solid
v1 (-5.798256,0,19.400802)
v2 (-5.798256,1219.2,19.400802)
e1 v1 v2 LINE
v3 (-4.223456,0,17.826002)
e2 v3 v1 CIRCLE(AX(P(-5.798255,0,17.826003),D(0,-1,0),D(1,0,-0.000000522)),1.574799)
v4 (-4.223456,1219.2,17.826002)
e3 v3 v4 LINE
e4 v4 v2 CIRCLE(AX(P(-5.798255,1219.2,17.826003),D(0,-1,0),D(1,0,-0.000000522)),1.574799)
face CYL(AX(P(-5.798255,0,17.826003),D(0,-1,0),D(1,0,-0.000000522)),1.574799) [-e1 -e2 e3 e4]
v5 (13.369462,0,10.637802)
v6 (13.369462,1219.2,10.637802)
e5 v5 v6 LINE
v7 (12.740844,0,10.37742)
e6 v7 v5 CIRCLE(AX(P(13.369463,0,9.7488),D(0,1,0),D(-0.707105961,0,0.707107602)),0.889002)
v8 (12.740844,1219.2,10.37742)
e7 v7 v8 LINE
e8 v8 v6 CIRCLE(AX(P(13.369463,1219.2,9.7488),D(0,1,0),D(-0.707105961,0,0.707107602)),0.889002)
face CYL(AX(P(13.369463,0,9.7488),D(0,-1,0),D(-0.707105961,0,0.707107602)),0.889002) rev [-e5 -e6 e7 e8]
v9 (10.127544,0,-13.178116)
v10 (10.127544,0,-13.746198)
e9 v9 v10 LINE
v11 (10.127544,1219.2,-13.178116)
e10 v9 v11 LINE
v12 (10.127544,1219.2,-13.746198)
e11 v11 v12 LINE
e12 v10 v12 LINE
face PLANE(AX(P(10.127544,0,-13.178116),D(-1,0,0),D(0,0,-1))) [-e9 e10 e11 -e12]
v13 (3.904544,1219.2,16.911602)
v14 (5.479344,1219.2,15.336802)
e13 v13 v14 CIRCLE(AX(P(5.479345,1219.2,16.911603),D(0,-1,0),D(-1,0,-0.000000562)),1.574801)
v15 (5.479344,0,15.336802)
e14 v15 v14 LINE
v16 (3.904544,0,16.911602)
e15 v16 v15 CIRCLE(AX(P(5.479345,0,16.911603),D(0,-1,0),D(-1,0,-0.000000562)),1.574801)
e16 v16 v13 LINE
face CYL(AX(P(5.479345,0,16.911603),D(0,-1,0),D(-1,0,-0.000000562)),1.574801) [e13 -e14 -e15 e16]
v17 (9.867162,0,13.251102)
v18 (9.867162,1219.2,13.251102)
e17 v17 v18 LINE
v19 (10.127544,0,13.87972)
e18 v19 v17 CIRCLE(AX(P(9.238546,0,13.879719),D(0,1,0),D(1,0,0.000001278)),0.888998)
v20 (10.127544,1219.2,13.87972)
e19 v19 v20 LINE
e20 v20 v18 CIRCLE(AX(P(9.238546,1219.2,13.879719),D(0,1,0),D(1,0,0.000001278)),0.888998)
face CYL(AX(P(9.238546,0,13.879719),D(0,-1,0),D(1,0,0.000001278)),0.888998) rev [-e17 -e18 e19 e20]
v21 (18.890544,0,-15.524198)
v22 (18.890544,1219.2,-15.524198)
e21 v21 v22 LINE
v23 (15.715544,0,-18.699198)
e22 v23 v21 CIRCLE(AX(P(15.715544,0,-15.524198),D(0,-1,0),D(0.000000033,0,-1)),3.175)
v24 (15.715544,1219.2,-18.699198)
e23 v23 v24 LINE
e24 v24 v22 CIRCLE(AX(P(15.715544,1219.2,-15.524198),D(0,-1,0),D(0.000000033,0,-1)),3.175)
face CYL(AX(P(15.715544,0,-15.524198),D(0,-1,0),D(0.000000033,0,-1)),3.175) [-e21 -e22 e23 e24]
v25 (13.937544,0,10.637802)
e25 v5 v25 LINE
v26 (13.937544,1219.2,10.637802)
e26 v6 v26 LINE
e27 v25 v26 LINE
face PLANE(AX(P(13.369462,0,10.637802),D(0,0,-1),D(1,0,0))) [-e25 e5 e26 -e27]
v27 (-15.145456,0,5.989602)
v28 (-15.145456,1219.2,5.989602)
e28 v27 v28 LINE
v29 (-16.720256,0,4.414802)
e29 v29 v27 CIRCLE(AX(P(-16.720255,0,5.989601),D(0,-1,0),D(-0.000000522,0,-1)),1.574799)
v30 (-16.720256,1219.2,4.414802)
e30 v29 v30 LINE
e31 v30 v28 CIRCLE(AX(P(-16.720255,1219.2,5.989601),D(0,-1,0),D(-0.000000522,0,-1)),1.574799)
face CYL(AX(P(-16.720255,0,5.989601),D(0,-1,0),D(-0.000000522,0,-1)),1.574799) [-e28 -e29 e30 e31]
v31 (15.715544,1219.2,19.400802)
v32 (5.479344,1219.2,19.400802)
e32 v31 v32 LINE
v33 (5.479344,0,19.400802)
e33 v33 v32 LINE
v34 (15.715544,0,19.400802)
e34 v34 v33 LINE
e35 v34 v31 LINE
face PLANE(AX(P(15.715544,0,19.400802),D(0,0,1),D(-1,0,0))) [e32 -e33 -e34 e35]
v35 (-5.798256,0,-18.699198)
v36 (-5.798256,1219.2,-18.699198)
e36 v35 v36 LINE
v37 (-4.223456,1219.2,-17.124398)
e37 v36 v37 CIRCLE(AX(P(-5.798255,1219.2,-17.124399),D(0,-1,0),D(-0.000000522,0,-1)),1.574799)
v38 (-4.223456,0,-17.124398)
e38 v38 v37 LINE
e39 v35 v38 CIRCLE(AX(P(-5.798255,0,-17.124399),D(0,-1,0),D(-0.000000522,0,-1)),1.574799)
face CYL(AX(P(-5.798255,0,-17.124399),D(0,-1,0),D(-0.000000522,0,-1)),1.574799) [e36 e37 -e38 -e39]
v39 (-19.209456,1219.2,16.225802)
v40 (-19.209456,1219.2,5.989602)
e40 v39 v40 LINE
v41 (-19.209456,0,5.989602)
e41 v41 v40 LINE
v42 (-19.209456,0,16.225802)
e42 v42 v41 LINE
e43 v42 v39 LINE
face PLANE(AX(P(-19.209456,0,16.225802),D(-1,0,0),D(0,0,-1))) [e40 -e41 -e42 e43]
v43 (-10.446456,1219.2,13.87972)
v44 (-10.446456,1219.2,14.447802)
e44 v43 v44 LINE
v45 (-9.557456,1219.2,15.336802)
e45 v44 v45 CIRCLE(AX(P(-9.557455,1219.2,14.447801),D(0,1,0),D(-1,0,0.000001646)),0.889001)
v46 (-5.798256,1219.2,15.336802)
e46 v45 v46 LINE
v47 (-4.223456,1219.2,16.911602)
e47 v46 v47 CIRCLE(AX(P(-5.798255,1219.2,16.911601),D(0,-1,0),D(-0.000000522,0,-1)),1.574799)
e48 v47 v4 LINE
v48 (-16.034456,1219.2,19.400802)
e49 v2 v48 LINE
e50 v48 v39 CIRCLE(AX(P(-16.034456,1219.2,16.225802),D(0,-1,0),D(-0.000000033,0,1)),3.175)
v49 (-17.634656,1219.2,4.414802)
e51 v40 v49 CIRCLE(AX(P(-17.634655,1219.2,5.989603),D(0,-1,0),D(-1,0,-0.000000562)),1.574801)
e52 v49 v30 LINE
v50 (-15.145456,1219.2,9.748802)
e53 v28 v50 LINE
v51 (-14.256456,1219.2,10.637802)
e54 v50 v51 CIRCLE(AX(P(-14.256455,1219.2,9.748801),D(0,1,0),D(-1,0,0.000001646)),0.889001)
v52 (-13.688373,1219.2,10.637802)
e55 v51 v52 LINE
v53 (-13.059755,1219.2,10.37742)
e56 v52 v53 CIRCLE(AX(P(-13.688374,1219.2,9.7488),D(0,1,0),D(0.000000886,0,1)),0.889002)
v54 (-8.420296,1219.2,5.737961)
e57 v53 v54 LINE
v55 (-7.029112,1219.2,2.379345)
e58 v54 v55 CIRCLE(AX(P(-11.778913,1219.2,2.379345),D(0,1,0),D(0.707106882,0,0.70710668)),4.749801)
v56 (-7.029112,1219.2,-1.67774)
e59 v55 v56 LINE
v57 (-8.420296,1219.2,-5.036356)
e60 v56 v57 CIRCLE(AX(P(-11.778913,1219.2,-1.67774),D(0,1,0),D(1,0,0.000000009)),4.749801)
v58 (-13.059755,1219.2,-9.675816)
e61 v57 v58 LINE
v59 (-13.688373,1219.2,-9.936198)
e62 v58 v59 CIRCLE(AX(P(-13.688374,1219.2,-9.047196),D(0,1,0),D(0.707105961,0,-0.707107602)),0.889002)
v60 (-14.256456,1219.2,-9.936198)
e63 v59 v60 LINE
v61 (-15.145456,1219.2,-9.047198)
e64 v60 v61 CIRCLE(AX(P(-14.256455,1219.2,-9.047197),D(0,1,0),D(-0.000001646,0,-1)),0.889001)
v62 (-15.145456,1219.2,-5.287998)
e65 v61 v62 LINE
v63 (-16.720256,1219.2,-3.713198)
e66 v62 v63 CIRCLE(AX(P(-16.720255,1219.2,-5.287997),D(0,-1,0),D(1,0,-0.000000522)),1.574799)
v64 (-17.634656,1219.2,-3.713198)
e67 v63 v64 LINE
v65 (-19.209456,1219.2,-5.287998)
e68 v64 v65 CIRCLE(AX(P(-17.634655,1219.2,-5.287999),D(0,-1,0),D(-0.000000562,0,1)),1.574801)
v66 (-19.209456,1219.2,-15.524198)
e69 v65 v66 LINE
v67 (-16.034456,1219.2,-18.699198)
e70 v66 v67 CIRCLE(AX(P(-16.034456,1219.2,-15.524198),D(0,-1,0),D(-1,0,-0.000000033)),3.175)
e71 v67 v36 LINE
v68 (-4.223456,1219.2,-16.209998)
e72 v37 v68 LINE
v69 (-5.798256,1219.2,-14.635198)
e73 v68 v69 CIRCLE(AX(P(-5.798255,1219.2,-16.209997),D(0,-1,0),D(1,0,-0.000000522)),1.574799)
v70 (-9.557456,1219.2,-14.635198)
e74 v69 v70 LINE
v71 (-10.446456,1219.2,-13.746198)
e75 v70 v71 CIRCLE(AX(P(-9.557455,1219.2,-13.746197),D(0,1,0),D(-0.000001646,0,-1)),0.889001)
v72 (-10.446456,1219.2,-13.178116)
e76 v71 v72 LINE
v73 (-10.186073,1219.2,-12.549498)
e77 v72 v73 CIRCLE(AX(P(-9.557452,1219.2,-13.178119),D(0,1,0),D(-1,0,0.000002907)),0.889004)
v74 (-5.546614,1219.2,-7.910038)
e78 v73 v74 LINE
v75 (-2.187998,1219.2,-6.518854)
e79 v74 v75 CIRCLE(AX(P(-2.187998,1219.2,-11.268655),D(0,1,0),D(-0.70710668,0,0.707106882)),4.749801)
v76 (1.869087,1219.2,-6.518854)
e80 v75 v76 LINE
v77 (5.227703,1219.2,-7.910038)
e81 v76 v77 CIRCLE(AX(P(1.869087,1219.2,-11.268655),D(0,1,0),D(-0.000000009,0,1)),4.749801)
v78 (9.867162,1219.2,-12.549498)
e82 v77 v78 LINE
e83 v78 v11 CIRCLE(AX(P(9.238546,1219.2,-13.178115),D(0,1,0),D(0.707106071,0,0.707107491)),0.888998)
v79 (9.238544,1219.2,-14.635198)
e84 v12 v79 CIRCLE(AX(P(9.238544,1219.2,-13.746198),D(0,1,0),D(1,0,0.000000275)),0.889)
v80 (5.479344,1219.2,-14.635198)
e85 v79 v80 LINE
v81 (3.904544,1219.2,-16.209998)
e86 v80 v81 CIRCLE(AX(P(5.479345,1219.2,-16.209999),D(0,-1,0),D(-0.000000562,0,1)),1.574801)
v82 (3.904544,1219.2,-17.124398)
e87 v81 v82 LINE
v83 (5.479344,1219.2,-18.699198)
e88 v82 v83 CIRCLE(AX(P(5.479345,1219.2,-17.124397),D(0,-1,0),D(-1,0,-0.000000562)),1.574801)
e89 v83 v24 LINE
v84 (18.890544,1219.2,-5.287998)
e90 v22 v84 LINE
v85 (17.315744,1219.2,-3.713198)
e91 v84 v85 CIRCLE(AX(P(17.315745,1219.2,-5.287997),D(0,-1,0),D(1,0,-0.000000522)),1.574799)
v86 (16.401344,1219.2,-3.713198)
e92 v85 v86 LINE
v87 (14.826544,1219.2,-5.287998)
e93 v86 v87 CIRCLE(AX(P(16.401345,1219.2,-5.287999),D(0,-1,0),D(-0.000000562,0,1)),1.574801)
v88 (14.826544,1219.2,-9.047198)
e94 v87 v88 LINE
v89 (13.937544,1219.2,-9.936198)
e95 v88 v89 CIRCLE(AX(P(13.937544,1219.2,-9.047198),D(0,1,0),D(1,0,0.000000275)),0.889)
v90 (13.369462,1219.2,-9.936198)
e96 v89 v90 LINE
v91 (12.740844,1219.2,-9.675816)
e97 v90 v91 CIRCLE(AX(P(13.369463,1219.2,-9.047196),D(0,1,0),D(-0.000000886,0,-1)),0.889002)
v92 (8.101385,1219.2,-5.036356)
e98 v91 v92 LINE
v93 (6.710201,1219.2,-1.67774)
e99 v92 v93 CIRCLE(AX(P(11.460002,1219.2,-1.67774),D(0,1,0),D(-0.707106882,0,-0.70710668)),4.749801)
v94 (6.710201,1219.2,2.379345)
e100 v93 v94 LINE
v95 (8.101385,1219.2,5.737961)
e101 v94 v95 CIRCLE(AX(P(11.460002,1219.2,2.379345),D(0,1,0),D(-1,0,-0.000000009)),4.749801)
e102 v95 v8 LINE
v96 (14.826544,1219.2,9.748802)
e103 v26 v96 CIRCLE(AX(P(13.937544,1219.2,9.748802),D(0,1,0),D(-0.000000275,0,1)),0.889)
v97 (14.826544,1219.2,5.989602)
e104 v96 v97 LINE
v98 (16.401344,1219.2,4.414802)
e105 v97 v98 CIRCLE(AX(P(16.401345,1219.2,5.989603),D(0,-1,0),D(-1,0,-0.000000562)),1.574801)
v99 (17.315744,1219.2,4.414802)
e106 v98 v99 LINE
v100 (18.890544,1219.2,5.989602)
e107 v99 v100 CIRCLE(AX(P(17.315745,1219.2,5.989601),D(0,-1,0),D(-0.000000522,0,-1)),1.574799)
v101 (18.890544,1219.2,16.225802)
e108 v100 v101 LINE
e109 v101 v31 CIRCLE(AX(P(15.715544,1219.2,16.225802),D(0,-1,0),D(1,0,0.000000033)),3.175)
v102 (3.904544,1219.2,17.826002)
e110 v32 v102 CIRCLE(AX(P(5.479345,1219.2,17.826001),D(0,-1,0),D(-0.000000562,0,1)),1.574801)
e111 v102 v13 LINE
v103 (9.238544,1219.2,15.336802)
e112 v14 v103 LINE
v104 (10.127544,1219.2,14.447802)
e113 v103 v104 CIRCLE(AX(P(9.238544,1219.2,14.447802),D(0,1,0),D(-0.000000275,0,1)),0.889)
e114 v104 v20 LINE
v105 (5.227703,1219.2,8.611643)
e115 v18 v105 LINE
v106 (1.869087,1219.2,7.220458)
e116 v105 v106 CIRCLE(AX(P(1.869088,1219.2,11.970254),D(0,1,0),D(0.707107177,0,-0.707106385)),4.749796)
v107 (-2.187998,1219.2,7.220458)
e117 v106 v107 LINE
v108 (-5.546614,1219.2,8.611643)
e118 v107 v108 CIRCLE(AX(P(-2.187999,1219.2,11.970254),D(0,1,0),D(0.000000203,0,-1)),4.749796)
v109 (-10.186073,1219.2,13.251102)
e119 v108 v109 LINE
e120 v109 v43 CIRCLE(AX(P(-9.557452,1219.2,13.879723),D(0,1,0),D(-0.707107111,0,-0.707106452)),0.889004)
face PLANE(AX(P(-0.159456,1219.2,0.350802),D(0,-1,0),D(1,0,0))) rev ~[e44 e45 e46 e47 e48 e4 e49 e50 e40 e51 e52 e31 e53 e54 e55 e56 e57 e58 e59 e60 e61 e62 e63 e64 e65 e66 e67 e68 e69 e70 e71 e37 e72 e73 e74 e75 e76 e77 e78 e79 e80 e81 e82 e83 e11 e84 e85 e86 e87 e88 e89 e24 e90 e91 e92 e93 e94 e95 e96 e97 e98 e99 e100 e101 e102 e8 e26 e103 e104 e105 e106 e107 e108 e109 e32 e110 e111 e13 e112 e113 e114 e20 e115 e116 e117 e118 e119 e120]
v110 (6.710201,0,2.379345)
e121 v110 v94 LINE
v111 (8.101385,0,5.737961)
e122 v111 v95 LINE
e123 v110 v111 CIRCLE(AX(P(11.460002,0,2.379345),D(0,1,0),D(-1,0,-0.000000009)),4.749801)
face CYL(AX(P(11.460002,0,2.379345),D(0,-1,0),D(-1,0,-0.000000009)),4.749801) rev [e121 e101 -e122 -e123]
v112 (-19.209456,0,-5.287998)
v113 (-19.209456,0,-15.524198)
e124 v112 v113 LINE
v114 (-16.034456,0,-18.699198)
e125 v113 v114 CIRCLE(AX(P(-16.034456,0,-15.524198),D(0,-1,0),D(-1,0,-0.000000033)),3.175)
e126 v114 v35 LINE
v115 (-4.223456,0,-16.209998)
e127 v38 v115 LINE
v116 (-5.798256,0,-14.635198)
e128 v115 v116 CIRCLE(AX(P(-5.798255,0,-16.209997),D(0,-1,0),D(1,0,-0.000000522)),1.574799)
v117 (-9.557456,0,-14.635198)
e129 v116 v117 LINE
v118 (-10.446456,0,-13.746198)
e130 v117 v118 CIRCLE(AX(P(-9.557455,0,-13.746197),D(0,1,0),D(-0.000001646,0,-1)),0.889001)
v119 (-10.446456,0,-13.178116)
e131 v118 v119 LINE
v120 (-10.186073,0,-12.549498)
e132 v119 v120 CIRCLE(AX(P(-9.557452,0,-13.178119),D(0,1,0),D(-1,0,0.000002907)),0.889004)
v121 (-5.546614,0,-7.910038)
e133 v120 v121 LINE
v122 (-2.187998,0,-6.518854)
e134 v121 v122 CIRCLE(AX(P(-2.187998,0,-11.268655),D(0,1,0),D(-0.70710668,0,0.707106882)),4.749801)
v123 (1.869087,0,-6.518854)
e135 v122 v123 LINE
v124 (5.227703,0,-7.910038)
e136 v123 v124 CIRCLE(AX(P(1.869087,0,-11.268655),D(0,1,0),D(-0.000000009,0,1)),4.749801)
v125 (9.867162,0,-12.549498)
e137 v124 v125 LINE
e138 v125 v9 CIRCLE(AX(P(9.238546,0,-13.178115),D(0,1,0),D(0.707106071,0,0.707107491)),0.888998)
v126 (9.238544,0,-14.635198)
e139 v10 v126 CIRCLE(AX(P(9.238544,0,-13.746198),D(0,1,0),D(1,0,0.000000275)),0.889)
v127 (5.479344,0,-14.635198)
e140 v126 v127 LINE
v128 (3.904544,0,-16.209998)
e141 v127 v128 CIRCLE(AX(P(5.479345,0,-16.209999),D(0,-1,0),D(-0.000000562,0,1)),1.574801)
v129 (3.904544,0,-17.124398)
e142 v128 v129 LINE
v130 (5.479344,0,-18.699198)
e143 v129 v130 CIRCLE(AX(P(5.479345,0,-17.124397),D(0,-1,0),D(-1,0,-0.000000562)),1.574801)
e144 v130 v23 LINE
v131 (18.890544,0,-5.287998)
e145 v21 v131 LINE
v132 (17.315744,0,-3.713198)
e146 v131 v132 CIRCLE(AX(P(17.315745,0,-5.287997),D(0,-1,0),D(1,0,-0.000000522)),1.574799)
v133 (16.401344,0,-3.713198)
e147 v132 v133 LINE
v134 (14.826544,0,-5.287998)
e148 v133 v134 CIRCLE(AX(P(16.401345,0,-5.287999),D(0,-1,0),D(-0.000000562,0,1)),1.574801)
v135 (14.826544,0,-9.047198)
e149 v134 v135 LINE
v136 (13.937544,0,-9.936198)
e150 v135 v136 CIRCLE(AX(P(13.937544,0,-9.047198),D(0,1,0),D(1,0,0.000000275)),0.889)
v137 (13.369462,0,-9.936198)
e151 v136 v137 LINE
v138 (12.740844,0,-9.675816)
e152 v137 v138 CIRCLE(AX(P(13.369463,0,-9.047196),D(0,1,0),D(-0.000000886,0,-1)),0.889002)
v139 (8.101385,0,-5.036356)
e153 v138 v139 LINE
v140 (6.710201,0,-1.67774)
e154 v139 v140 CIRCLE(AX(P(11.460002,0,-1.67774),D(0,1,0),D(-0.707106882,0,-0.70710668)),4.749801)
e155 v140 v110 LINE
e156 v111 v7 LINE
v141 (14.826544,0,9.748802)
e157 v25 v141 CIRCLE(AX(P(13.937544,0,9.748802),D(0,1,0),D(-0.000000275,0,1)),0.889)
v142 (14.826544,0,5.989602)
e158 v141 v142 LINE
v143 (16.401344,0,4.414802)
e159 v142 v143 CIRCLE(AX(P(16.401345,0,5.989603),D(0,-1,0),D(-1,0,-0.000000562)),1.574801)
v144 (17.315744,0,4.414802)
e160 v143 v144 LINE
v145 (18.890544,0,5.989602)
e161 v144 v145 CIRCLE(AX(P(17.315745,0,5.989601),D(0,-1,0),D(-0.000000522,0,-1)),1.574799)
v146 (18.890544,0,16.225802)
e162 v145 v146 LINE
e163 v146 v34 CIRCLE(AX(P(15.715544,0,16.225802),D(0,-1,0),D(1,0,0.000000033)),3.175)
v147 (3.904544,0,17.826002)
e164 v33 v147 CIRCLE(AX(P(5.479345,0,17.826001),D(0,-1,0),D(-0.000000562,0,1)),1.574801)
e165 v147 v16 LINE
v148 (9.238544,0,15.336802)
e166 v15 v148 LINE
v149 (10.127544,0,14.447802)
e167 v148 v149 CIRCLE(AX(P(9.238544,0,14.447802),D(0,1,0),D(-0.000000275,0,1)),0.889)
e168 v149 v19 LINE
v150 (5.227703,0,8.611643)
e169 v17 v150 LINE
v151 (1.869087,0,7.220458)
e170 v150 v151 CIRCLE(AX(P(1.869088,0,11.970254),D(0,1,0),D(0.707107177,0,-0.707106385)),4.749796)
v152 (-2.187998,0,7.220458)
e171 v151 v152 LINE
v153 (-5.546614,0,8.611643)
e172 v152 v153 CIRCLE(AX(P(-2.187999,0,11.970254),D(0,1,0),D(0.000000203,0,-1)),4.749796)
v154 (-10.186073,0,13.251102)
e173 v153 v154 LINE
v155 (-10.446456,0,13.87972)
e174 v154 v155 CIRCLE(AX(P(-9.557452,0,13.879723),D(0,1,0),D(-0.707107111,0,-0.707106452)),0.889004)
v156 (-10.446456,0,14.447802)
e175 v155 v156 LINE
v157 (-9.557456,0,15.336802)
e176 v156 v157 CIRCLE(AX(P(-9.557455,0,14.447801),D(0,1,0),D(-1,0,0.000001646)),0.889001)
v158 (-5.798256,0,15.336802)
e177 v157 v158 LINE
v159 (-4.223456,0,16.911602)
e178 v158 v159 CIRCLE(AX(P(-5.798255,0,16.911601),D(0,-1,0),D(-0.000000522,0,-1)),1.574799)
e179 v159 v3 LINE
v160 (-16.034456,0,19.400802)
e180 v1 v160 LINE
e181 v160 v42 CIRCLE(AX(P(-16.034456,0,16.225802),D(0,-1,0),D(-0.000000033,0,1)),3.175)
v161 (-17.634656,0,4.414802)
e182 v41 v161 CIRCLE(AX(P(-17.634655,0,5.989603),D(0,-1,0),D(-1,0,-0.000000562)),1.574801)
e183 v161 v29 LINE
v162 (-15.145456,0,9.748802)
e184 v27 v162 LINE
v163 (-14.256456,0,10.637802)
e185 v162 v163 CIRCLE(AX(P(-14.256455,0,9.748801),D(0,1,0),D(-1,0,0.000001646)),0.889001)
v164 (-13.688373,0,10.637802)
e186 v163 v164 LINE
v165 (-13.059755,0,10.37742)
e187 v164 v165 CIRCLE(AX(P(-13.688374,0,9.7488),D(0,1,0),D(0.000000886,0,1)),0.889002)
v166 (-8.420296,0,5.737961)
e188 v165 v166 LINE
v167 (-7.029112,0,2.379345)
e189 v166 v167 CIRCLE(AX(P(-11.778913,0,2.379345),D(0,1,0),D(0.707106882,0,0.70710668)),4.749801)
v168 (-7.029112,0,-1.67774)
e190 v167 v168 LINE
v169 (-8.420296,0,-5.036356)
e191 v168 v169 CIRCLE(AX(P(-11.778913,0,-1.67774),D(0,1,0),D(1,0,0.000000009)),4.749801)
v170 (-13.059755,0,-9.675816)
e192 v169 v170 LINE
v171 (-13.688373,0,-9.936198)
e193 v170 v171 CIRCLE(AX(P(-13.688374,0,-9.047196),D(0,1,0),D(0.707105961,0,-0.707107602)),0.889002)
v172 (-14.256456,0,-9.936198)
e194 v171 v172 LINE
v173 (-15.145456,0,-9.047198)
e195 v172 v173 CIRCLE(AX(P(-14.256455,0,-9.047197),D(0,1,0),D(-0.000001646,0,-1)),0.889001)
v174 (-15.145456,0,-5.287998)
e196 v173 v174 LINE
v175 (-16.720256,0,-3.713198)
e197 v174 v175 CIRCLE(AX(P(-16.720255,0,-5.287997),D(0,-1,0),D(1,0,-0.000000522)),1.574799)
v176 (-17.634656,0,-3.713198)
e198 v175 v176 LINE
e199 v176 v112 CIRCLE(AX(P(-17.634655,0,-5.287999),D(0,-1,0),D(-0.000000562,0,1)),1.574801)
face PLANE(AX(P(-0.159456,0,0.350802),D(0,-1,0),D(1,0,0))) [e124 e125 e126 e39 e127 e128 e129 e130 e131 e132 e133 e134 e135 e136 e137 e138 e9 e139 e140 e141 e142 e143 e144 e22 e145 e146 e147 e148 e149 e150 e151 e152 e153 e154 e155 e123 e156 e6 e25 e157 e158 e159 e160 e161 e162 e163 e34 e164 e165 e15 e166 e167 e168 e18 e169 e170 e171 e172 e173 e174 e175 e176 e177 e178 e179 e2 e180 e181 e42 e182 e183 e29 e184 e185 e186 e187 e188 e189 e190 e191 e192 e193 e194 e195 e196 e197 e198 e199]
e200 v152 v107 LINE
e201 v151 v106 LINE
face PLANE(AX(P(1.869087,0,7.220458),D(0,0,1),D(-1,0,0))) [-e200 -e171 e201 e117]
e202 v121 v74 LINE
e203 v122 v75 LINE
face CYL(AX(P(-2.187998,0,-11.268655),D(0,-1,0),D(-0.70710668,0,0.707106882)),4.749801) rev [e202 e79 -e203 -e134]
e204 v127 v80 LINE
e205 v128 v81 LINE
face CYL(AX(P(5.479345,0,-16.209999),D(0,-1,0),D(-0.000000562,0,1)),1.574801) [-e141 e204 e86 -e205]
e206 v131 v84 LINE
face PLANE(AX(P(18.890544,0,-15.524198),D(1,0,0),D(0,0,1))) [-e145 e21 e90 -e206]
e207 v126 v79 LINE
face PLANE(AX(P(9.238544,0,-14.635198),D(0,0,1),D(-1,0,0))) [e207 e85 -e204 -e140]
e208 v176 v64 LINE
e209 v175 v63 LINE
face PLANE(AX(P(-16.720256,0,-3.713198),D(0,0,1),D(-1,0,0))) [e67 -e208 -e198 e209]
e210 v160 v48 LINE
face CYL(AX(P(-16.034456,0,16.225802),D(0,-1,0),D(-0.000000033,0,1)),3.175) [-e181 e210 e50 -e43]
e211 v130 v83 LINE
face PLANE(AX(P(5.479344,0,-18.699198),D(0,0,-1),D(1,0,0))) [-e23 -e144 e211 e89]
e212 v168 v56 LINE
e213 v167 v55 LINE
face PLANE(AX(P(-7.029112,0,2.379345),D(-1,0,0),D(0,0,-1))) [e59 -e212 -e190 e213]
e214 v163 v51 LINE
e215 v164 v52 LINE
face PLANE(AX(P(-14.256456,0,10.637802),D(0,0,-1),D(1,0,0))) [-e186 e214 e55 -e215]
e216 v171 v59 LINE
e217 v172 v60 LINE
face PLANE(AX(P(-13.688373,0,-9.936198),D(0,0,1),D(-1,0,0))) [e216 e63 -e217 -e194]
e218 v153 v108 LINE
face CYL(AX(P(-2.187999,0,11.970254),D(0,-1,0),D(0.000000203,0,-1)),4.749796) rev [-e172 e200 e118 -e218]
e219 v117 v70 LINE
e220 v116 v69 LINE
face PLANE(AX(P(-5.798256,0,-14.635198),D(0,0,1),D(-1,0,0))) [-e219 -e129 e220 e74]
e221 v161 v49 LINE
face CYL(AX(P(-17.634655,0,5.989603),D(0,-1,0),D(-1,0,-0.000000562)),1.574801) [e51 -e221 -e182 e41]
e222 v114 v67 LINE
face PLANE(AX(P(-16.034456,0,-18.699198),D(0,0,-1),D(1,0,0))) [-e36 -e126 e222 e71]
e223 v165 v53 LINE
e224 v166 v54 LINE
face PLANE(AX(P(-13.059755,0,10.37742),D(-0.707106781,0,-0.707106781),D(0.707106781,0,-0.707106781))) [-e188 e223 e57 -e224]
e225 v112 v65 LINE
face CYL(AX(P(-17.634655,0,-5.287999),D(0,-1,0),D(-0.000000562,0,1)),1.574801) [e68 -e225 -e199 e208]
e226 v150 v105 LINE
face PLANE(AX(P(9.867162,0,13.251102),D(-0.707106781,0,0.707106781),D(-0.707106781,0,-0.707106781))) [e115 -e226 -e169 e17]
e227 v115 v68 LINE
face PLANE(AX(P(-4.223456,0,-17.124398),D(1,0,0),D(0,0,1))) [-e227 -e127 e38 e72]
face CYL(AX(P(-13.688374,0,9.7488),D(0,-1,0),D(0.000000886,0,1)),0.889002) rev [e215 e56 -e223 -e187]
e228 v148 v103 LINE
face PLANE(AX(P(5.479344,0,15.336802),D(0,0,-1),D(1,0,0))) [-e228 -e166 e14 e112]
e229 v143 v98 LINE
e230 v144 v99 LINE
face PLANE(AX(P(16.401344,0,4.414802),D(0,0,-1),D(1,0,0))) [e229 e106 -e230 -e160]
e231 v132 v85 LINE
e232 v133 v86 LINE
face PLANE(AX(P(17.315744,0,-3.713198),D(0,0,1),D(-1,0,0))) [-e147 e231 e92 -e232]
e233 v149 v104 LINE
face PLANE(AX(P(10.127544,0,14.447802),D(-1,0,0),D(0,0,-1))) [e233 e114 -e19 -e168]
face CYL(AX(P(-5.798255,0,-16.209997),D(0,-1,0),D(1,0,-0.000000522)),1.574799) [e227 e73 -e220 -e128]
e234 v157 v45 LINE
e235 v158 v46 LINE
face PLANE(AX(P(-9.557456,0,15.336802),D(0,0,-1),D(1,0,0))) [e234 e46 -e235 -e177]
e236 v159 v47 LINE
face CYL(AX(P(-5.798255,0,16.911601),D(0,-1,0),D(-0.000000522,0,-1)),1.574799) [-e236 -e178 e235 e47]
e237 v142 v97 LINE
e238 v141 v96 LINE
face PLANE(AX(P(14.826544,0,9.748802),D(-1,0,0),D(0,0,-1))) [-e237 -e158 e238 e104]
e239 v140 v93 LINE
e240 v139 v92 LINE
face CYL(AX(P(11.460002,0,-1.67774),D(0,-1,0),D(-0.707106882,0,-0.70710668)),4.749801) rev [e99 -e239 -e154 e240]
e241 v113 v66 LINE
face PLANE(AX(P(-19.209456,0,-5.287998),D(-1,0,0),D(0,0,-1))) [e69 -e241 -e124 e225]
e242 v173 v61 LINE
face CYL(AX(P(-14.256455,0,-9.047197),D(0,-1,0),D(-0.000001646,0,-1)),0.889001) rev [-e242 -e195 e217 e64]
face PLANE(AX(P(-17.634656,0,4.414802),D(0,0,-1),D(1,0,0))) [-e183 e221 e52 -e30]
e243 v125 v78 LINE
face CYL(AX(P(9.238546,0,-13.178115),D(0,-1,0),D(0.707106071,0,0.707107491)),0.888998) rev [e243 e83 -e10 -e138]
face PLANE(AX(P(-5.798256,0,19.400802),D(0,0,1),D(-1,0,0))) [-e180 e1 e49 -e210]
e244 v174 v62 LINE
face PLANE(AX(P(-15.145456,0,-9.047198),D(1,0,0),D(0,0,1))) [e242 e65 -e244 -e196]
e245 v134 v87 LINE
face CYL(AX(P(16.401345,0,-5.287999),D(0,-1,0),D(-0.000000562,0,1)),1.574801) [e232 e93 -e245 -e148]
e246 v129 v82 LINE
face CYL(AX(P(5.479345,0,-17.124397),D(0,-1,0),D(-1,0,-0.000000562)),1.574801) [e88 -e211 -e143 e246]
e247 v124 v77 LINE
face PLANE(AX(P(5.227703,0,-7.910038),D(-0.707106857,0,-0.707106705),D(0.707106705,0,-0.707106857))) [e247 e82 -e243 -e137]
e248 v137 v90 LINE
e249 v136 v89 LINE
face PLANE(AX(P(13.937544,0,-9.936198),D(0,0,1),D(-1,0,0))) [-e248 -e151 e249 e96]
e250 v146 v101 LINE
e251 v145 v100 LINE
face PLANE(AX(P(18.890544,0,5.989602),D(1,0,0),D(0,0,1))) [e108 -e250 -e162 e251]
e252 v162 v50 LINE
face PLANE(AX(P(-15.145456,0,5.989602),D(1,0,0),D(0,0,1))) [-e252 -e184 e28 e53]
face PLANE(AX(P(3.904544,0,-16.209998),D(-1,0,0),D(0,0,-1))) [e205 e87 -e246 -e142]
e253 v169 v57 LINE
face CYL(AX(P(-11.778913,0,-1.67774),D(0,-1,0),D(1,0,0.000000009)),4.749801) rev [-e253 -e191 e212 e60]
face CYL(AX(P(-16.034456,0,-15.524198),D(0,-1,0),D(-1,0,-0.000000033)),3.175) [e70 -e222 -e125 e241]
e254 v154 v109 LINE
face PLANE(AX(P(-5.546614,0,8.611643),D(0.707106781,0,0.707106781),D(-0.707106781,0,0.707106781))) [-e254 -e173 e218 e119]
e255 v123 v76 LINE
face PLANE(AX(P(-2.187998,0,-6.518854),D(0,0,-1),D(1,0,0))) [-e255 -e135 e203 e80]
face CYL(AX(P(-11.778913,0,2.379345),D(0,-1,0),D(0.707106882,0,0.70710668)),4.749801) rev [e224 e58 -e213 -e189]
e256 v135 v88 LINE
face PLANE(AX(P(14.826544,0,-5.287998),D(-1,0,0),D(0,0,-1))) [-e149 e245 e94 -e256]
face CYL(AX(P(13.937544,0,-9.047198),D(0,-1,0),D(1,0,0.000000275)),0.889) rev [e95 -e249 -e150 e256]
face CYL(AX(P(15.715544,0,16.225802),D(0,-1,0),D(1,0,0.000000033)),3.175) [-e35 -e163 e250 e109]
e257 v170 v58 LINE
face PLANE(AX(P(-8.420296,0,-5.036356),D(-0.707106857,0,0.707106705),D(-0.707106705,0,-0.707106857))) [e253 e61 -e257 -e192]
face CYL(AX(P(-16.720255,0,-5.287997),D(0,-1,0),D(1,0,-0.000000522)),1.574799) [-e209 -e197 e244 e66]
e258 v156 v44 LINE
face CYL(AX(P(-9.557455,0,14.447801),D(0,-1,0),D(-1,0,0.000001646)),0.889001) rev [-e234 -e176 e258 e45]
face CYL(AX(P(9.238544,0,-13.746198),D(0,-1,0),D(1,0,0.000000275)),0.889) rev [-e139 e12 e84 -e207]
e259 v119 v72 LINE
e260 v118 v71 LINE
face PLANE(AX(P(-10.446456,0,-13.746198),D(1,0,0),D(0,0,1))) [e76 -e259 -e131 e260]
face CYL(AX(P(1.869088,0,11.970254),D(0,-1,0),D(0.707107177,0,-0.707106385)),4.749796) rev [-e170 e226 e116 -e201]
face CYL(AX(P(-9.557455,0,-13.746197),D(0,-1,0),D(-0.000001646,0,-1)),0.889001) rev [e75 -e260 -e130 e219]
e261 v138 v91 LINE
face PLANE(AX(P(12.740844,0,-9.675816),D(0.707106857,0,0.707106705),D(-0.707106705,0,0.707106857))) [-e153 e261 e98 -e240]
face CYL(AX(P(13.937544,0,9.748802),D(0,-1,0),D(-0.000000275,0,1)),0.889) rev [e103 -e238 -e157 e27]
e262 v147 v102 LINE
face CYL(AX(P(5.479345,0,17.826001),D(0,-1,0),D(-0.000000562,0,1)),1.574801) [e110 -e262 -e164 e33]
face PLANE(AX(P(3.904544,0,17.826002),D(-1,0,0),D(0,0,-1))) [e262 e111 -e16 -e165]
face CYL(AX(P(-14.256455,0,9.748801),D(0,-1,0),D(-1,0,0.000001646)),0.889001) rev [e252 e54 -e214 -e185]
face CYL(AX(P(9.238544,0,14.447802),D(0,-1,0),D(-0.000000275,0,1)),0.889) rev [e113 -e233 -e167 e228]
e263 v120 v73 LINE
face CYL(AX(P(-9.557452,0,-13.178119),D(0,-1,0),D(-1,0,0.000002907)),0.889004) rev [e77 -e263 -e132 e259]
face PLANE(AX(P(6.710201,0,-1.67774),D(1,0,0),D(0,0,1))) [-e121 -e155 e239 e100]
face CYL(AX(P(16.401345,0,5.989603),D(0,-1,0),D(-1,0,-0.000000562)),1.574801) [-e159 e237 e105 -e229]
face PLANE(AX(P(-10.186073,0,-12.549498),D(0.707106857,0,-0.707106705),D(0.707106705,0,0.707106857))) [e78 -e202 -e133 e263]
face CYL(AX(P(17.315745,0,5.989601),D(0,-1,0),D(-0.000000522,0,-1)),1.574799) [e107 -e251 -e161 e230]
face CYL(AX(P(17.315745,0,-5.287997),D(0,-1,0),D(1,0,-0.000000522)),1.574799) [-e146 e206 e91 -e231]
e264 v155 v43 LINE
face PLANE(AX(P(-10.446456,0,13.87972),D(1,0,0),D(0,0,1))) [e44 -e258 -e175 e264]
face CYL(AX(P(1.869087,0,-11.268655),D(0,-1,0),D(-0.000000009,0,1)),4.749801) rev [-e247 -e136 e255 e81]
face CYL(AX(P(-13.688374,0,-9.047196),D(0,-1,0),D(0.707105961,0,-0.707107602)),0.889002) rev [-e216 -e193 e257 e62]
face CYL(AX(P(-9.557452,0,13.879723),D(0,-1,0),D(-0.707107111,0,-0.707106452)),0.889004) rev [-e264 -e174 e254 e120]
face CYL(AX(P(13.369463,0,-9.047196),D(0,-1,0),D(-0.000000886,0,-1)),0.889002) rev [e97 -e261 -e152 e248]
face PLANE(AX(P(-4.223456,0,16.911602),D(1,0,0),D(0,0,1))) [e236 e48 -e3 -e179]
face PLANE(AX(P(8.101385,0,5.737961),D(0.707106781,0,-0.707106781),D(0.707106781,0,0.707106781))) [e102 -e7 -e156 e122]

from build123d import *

# Parameters (mm, degrees)
F1_DEPTH = 1219.2


with BuildPart() as f1:
    # F0 (on Front) → F1 (new body)
    with BuildSketch(Plane.XZ):
        with BuildLine():
            Line((-5.798256, 19.400802), (-16.034456, 19.400802))
            ThreePointArc((-16.034456, 19.400802), (-18.27952, 18.470866), (-19.209456, 16.225802))
            Line((-19.209456, 16.225802), (-19.209456, 5.989602))
            ThreePointArc((-19.209456, 5.989602), (-18.748207, 4.87605), (-17.634656, 4.414802))
            Line((-17.634656, 4.414802), (-16.720256, 4.414802))
            ThreePointArc((-16.720256, 4.414802), (-15.606704, 4.87605), (-15.145456, 5.989602))
            Line((-15.145456, 5.989602), (-15.145456, 9.748802))
            ThreePointArc((-15.145456, 9.748802), (-14.885073, 10.37742), (-14.256456, 10.637802))
            Line((-14.256456, 10.637802), (-13.688373, 10.637802))
            ThreePointArc((-13.688373, 10.637802), (-13.348168, 10.570131), (-13.059755, 10.37742))
            Line((-13.059755, 10.37742), (-8.420296, 5.737961))
            ThreePointArc((-8.420296, 5.737961), (-7.390669, 4.197015), (-7.029112, 2.379345))
            Line((-7.029112, 2.379345), (-7.029112, -1.67774))
            ThreePointArc((-7.029112, -1.67774), (-7.390669, -3.49541), (-8.420296, -5.036356))
            Line((-8.420296, -5.036356), (-13.059755, -9.675816))
            ThreePointArc((-13.059755, -9.675816), (-13.348168, -9.868527), (-13.688373, -9.936198))
            Line((-13.688373, -9.936198), (-14.256456, -9.936198))
            ThreePointArc((-14.256456, -9.936198), (-14.885073, -9.675816), (-15.145456, -9.047198))
            Line((-15.145456, -9.047198), (-15.145456, -5.287998))
            ThreePointArc((-15.145456, -5.287998), (-15.606704, -4.174446), (-16.720256, -3.713198))
            Line((-16.720256, -3.713198), (-17.634656, -3.713198))
            ThreePointArc((-17.634656, -3.713198), (-18.748207, -4.174446), (-19.209456, -5.287998))
            Line((-19.209456, -5.287998), (-19.209456, -15.524198))
            ThreePointArc((-19.209456, -15.524198), (-18.27952, -17.769262), (-16.034456, -18.699198))
            Line((-16.034456, -18.699198), (-5.798256, -18.699198))
            ThreePointArc((-5.798256, -18.699198), (-4.684704, -18.23795), (-4.223456, -17.124398))
            Line((-4.223456, -17.124398), (-4.223456, -16.209998))
            ThreePointArc((-4.223456, -16.209998), (-4.684704, -15.096446), (-5.798256, -14.635198))
            Line((-5.798256, -14.635198), (-9.557456, -14.635198))
            ThreePointArc((-9.557456, -14.635198), (-10.186073, -14.374816), (-10.446456, -13.746198))
            Line((-10.446456, -13.746198), (-10.446456, -13.178116))
            ThreePointArc((-10.446456, -13.178116), (-10.378784, -12.83791), (-10.186073, -12.549498))
            Line((-10.186073, -12.549498), (-5.546614, -7.910038))
            ThreePointArc((-5.546614, -7.910038), (-4.005668, -6.880411), (-2.187998, -6.518854))
            Line((-2.187998, -6.518854), (1.869087, -6.518854))
            ThreePointArc((1.869087, -6.518854), (3.686757, -6.880411), (5.227703, -7.910038))
            Line((5.227703, -7.910038), (9.867162, -12.549498))
            ThreePointArc((9.867162, -12.549498), (10.059873, -12.83791), (10.127544, -13.178116))
            Line((10.127544, -13.178116), (10.127544, -13.746198))
            ThreePointArc((10.127544, -13.746198), (9.867162, -14.374816), (9.238544, -14.635198))
            Line((9.238544, -14.635198), (5.479344, -14.635198))
            ThreePointArc((5.479344, -14.635198), (4.365793, -15.096446), (3.904544, -16.209998))
            Line((3.904544, -16.209998), (3.904544, -17.124398))
            ThreePointArc((3.904544, -17.124398), (4.365793, -18.23795), (5.479344, -18.699198))
            Line((5.479344, -18.699198), (15.715544, -18.699198))
            ThreePointArc((15.715544, -18.699198), (17.960608, -17.769262), (18.890544, -15.524198))
            Line((18.890544, -15.524198), (18.890544, -5.287998))
            ThreePointArc((18.890544, -5.287998), (18.429296, -4.174446), (17.315744, -3.713198))
            Line((17.315744, -3.713198), (16.401344, -3.713198))
            ThreePointArc((16.401344, -3.713198), (15.287793, -4.174446), (14.826544, -5.287998))
            Line((14.826544, -5.287998), (14.826544, -9.047198))
            ThreePointArc((14.826544, -9.047198), (14.566162, -9.675816), (13.937544, -9.936198))
            Line((13.937544, -9.936198), (13.369462, -9.936198))
            ThreePointArc((13.369462, -9.936198), (13.029257, -9.868527), (12.740844, -9.675816))
            Line((12.740844, -9.675816), (8.101385, -5.036356))
            ThreePointArc((8.101385, -5.036356), (7.071758, -3.49541), (6.710201, -1.67774))
            Line((6.710201, -1.67774), (6.710201, 2.379345))
            ThreePointArc((6.710201, 2.379345), (7.071758, 4.197015), (8.101385, 5.737961))
            Line((8.101385, 5.737961), (12.740844, 10.37742))
            ThreePointArc((12.740844, 10.37742), (13.029257, 10.570131), (13.369462, 10.637802))
            Line((13.369462, 10.637802), (13.937544, 10.637802))
            ThreePointArc((13.937544, 10.637802), (14.566162, 10.37742), (14.826544, 9.748802))
            Line((14.826544, 9.748802), (14.826544, 5.989602))
            ThreePointArc((14.826544, 5.989602), (15.287793, 4.87605), (16.401344, 4.414802))
            Line((16.401344, 4.414802), (17.315744, 4.414802))
            ThreePointArc((17.315744, 4.414802), (18.429296, 4.87605), (18.890544, 5.989602))
            Line((18.890544, 5.989602), (18.890544, 16.225802))
            ThreePointArc((18.890544, 16.225802), (17.960608, 18.470866), (15.715544, 19.400802))
            Line((15.715544, 19.400802), (5.479344, 19.400802))
            ThreePointArc((5.479344, 19.400802), (4.365793, 18.939554), (3.904544, 17.826002))
            Line((3.904544, 17.826002), (3.904544, 16.911602))
            ThreePointArc((3.904544, 16.911602), (4.365793, 15.79805), (5.479344, 15.336802))
            Line((5.479344, 15.336802), (9.238544, 15.336802))
            ThreePointArc((9.238544, 15.336802), (9.867162, 15.07642), (10.127544, 14.447802))
            Line((10.127544, 14.447802), (10.127544, 13.87972))
            ThreePointArc((10.127544, 13.87972), (10.059873, 13.539514), (9.867162, 13.251102))
            Line((9.867162, 13.251102), (5.227703, 8.611643))
            ThreePointArc((5.227703, 8.611643), (3.686757, 7.582015), (1.869087, 7.220458))
            Line((1.869087, 7.220458), (-2.187998, 7.220458))
            ThreePointArc((-2.187998, 7.220458), (-4.005668, 7.582015), (-5.546614, 8.611643))
            Line((-5.546614, 8.611643), (-10.186073, 13.251102))
            ThreePointArc((-10.186073, 13.251102), (-10.378784, 13.539514), (-10.446456, 13.87972))
            Line((-10.446456, 13.87972), (-10.446456, 14.447802))
            ThreePointArc((-10.446456, 14.447802), (-10.186073, 15.07642), (-9.557456, 15.336802))
            Line((-9.557456, 15.336802), (-5.798256, 15.336802))
            ThreePointArc((-5.798256, 15.336802), (-4.684704, 15.79805), (-4.223456, 16.911602))
            Line((-4.223456, 16.911602), (-4.223456, 17.826002))
            ThreePointArc((-4.223456, 17.826002), (-4.684704, 18.939554), (-5.798256, 19.400802))
        make_face()
    extrude(amount=-F1_DEPTH)


solid = f1.part
